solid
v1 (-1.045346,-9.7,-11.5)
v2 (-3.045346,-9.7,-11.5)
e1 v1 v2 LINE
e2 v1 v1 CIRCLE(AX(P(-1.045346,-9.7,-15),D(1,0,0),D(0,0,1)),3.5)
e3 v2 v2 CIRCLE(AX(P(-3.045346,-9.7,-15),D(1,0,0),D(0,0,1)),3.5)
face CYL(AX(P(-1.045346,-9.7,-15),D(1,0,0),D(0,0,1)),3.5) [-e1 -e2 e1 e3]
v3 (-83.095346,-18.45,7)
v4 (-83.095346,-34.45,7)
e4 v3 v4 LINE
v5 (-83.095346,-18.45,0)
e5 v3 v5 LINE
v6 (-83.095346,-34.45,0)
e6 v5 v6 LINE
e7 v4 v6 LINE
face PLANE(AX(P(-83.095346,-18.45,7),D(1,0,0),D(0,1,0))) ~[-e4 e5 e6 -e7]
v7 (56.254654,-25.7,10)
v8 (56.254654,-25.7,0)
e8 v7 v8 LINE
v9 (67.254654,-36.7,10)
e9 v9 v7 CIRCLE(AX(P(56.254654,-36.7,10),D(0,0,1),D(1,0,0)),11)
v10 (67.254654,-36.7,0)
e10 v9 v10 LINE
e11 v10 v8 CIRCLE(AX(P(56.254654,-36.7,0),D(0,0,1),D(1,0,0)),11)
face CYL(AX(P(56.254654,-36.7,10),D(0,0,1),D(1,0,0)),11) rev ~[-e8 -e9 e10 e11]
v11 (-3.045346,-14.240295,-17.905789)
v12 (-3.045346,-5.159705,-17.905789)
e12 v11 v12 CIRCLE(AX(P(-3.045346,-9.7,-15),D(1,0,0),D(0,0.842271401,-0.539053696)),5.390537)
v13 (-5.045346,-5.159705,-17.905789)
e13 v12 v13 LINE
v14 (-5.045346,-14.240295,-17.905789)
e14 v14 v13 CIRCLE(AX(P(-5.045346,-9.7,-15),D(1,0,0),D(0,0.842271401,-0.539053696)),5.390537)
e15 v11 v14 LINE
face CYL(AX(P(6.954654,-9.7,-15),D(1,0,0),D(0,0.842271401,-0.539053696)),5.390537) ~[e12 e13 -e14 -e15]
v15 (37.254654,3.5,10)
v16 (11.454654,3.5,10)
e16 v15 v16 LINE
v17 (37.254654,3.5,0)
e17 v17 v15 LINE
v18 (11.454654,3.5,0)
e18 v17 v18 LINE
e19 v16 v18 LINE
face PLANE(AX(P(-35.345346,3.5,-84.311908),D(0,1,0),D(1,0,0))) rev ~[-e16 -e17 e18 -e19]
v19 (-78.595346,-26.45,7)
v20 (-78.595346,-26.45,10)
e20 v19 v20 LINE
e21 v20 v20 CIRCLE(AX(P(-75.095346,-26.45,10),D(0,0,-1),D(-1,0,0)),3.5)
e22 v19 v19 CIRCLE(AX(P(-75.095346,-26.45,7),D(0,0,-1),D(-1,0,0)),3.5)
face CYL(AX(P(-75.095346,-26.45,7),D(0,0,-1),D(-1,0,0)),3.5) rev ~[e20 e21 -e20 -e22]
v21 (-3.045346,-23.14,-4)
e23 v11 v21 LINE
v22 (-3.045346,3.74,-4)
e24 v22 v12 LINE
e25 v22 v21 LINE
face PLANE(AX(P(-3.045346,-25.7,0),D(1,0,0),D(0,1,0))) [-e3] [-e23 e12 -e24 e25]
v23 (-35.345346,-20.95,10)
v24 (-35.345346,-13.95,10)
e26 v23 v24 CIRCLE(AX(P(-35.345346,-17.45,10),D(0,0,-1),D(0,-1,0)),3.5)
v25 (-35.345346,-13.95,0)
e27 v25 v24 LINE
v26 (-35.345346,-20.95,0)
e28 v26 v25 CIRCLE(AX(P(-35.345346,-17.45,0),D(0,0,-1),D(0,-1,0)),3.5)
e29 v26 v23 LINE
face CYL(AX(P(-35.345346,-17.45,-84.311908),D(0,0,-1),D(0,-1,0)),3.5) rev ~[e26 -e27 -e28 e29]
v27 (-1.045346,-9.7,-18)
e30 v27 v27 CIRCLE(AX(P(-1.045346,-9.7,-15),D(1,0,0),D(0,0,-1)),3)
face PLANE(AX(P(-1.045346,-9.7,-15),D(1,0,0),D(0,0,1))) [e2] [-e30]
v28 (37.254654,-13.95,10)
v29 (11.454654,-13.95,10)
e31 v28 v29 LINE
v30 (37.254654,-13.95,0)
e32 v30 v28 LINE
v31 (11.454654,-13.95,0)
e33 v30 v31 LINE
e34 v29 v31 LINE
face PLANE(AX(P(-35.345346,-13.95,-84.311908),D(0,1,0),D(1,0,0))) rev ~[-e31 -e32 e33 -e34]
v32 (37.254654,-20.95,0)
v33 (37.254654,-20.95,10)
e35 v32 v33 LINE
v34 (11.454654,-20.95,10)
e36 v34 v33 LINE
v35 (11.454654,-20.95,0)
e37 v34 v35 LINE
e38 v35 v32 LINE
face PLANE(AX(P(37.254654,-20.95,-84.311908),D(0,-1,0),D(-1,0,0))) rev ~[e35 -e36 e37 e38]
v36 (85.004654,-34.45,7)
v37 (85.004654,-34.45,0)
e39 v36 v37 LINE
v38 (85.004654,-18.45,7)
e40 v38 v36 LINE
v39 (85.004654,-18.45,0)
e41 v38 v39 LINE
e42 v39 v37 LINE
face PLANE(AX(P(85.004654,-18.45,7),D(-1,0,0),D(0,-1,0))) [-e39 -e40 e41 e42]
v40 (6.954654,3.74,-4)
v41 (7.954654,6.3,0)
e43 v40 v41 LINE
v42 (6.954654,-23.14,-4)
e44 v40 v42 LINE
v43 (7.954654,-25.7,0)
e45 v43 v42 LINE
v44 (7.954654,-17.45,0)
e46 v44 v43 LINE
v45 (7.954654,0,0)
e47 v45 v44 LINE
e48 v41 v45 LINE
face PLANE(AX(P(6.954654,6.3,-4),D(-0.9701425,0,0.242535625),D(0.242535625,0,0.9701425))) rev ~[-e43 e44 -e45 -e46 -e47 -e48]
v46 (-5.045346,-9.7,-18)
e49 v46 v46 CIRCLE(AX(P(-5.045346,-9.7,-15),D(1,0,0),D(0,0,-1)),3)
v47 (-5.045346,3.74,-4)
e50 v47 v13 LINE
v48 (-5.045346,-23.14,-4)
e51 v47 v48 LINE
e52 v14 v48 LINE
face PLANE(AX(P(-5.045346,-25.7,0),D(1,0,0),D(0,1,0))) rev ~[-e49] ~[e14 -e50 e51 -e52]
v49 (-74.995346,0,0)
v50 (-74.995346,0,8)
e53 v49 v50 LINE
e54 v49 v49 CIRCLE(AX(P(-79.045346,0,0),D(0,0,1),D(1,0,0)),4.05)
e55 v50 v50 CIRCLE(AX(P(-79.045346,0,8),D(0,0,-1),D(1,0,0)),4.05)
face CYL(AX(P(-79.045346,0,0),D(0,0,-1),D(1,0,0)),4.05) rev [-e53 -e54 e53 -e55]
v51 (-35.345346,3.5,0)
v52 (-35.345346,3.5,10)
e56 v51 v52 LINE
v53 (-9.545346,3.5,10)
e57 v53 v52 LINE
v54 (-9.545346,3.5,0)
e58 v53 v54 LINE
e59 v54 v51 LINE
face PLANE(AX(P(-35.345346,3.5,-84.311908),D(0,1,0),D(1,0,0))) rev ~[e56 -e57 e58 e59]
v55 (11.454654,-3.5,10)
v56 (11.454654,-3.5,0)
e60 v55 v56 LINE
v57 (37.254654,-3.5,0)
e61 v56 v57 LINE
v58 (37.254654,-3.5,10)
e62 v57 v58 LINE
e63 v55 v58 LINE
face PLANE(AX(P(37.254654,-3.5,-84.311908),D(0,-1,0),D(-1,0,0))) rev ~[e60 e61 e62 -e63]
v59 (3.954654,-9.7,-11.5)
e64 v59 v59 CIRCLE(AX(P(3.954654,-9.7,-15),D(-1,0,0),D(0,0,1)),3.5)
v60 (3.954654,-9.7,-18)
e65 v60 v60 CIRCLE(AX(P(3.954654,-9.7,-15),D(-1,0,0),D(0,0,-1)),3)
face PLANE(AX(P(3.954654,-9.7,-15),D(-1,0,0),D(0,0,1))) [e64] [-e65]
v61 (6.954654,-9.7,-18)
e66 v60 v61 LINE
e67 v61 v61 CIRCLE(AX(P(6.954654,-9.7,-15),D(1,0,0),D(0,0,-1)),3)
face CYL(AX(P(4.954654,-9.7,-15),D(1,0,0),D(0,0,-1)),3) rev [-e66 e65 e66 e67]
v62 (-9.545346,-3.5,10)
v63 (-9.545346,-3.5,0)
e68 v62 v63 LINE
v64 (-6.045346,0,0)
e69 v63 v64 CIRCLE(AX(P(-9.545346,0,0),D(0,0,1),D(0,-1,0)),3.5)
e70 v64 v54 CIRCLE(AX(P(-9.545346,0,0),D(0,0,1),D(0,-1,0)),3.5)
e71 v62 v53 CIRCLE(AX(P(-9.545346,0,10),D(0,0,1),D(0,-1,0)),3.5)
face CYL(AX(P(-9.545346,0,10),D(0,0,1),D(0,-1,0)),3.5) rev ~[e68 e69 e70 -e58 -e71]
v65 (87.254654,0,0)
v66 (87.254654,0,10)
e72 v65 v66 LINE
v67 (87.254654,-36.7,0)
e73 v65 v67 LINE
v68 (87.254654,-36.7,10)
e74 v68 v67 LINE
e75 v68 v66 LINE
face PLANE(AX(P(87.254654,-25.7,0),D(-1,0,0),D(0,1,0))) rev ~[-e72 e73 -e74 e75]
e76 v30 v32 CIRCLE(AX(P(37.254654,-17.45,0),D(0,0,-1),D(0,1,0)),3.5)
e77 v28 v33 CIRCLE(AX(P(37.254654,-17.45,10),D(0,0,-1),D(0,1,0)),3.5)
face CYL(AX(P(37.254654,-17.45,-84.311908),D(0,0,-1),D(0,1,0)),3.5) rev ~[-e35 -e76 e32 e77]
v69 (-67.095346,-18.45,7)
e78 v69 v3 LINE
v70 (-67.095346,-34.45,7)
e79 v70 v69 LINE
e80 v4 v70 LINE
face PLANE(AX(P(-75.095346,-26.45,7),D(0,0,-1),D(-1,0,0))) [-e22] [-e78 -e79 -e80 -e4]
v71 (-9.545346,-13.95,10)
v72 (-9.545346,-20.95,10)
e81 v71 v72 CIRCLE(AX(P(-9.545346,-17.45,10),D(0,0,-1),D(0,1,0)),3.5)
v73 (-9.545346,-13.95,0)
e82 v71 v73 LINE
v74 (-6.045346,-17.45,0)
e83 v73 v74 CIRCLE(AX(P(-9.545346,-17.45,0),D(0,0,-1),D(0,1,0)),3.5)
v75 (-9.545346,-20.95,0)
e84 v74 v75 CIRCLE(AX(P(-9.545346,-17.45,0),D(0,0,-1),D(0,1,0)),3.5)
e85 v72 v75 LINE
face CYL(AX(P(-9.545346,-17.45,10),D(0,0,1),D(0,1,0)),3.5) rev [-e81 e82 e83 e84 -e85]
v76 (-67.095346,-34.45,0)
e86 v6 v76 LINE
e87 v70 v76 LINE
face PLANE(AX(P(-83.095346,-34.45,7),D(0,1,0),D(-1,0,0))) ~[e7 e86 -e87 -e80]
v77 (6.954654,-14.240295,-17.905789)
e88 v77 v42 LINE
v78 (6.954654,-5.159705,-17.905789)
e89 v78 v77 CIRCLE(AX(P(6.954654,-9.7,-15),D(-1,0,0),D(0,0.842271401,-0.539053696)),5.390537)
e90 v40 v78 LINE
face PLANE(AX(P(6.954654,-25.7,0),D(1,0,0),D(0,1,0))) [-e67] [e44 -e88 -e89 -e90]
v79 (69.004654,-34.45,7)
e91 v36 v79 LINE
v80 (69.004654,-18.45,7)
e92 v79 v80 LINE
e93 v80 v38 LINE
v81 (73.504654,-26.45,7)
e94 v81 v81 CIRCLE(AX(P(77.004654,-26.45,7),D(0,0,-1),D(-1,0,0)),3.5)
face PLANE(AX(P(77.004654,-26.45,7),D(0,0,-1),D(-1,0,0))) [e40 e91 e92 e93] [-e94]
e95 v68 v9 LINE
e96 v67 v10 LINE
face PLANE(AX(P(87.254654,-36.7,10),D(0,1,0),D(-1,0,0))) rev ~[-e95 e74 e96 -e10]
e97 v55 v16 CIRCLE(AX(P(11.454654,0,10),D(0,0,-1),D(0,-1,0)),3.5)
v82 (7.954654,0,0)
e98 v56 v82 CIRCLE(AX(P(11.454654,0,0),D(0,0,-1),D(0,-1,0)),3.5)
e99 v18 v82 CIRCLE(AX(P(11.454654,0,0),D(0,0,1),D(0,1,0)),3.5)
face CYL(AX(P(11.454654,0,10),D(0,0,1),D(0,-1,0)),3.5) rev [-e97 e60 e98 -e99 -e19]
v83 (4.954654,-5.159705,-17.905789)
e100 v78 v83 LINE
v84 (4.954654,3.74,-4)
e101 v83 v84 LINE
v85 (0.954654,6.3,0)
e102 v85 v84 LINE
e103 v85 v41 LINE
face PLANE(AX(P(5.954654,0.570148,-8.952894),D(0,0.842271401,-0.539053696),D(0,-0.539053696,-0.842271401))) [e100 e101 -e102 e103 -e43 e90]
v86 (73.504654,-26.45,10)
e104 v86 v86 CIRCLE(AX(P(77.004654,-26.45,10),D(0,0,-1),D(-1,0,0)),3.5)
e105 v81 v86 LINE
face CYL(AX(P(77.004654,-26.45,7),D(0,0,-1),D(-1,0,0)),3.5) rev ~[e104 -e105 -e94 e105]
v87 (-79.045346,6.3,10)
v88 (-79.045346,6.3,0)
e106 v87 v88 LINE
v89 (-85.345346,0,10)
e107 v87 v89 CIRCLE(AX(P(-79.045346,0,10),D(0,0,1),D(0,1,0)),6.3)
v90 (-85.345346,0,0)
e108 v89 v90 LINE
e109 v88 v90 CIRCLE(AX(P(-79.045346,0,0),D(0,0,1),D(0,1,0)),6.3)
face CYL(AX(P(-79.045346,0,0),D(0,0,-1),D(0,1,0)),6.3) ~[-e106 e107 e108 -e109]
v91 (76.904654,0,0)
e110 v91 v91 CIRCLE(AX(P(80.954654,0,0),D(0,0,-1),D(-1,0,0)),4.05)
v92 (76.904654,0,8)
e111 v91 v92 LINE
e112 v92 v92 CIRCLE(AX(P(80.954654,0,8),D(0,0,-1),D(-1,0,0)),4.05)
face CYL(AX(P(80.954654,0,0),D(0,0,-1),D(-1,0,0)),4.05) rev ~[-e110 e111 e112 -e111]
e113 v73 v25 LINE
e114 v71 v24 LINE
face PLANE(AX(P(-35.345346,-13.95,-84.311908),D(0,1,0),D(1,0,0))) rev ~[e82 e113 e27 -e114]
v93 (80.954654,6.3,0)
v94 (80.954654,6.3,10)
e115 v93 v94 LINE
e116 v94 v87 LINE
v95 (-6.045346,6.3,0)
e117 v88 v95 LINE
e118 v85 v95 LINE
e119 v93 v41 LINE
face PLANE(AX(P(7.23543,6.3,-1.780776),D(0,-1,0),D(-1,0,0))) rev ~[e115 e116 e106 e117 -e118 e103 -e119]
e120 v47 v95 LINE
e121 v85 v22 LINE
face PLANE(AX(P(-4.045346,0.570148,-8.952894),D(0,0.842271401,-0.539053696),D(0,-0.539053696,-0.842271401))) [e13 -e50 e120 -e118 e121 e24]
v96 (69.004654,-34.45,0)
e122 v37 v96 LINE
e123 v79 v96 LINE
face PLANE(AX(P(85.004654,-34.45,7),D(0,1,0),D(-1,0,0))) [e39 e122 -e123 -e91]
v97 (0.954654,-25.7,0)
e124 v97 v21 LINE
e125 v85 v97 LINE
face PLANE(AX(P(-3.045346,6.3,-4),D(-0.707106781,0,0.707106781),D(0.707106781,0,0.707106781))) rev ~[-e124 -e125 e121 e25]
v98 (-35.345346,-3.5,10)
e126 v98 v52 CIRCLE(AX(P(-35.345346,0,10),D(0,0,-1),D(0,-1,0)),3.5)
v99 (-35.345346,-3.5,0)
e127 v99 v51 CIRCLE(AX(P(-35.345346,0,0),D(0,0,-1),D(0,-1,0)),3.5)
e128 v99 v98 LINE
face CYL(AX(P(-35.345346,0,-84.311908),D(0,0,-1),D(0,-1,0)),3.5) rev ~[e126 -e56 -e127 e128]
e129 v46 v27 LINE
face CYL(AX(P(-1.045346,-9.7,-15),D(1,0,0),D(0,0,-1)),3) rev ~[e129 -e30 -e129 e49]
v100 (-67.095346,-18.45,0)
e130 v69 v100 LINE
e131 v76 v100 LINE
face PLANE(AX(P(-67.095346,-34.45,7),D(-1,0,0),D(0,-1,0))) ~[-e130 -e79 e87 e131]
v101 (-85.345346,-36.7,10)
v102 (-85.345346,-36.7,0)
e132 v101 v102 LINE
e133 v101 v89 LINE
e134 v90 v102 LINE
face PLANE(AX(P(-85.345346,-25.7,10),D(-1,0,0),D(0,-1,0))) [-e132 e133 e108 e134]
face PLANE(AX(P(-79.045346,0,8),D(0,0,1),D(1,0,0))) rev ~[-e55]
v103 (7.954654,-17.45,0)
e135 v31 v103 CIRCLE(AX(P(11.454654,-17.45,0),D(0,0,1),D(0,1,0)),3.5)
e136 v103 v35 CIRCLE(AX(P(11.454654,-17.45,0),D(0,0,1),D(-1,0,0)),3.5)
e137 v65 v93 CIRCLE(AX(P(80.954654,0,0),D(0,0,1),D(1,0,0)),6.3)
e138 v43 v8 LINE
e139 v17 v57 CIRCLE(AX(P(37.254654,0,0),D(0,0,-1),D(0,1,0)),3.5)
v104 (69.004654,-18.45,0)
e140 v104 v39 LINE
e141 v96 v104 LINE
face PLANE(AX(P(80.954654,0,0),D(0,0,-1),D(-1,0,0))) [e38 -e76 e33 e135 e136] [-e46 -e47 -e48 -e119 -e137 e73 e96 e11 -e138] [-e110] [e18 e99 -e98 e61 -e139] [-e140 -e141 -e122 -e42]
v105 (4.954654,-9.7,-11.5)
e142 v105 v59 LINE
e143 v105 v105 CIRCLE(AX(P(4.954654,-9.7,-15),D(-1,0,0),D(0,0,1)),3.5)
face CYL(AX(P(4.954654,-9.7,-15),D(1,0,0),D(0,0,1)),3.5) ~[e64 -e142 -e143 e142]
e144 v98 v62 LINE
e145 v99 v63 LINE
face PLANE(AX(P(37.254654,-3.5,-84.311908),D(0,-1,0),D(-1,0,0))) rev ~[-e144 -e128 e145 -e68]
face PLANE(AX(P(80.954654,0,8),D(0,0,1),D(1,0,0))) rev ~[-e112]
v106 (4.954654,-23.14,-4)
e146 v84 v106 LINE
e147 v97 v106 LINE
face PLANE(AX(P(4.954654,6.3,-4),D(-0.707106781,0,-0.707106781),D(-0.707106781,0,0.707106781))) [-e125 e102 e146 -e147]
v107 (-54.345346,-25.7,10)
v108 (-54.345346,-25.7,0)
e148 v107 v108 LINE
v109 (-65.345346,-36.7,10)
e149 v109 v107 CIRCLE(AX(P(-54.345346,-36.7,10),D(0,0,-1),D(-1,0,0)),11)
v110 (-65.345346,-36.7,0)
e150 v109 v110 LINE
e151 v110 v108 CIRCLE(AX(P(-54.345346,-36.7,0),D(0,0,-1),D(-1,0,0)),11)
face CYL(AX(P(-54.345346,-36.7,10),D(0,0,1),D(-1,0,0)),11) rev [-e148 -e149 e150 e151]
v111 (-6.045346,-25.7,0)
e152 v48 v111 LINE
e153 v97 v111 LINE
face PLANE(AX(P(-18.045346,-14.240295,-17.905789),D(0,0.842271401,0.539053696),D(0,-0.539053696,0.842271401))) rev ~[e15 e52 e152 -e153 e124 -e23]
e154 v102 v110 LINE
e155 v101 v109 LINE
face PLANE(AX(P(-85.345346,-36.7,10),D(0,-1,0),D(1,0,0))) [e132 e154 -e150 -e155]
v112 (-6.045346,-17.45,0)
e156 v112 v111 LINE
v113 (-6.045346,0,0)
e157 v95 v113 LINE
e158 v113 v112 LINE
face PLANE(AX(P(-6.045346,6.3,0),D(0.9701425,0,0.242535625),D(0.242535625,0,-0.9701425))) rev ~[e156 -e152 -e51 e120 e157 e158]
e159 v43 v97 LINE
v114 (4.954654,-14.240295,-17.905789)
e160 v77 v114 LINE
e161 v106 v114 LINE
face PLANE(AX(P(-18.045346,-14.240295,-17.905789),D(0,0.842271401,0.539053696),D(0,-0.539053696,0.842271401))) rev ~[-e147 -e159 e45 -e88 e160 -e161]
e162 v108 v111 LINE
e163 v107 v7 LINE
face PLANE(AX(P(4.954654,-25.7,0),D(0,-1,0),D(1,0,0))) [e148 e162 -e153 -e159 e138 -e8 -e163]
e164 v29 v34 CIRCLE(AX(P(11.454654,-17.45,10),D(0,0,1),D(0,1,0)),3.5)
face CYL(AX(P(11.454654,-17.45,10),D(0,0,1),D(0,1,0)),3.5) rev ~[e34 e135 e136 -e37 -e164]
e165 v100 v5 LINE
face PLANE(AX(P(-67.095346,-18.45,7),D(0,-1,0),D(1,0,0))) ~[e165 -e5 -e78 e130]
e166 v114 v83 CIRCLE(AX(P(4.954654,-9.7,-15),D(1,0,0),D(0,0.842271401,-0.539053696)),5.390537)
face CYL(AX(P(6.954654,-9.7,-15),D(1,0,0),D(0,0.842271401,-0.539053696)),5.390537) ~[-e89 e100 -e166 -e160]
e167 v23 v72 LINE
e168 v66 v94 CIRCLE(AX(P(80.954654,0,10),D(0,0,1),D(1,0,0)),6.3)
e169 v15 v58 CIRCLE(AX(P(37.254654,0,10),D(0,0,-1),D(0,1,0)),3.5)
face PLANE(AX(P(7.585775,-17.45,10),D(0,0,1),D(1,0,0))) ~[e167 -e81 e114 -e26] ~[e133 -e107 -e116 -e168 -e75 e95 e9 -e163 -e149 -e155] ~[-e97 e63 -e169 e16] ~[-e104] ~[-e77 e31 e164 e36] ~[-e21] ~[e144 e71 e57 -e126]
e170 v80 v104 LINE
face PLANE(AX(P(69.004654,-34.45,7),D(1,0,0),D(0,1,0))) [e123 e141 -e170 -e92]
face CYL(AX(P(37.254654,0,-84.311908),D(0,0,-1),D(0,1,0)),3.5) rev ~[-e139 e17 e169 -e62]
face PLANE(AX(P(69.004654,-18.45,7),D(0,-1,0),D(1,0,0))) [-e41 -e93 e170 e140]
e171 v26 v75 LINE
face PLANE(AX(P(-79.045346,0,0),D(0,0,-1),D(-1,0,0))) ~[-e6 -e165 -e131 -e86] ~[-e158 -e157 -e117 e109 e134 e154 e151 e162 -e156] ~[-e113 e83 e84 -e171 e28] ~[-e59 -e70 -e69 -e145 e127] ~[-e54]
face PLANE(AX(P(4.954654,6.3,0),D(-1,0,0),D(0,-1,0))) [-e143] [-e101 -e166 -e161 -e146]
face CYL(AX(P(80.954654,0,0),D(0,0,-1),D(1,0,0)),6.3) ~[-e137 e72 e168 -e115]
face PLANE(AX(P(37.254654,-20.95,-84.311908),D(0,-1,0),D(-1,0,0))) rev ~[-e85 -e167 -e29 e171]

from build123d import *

# Parameters (mm, degrees)
SKETCH1_R               = 4.3000000000000025
BOSS_EXTRUDE1_DEPTH     = 8
CUT_EXTRUDE1_DEPTH      = 8
SKETCH1_2_R             = 4.3000000000000025
BOSS_EXTRUDE2_DEPTH     = 10
CUT_EXTRUDE2_DEPTH      = 92.31190849955428
CUT_EXTRUDE2_DEPTH_BACK = 92.31190849955428
SKETCH3_W               = 12.499999999999986
SKETCH3_H               = 12.500000000000002
SKETCH3_W_2             = 12.5
SKETCH3_H_2             = 12.5
BOSS_EXTRUDE3_DEPTH     = 2
BOSS_EXTRUDE5_START     = -2
SKETCH4_R               = 4.3000000000000025
BOSS_EXTRUDE5_DEPTH     = 2
BOSS_EXTRUDE6_DEPTH     = 10.000000000000002
BOSS_EXTRUDE7_DEPTH     = 10.000000000000002
BOSS_EXTRUDE8_DEPTH     = 10
SKETCH8_W               = 18.12209127979392
SKETCH8_H               = 22.505010210713824
SKETCH8_W_2             = 16.915072938743947
SKETCH8_H_2             = 18.768490123640905
BOSS_EXTRUDE9_DEPTH     = 10
SKETCH12_W              = 16.5
SKETCH12_H              = 16.500000000000004
CUT_EXTRUDE6_DEPTH      = 6.999999999999999
SKETCH13_R              = 3.5000000000000075
CUT_EXTRUDE7_DEPTH      = 6.999999999999999
CUT_EXTRUDE11_DEPTH     = 5
BOSS_EXTRUDE10_DEPTH    = 8
BOSS_EXTRUDE11_START    = -10.000000000000002
BOSS_EXTRUDE11_DEPTH    = 10.000000000000002
BOSS_EXTRUDE12_START    = -10.000000000000002
BOSS_EXTRUDE12_DEPTH    = 10.000000000000002
BOSS_EXTRUDE13_DEPTH    = 20
CUT_EXTRUDE12_DEPTH     = 20
SKETCH20_R              = 3.5
CUT_EXTRUDE13_DEPTH     = 20
SKETCH21_W              = 12.588800468492423
SKETCH21_H              = 27.872981801920105
CUT_EXTRUDE15_DEPTH     = 28.00000000000001
SKETCH23_W              = 2.0000000000000004
SKETCH23_H              = 31.999999999999986
BOSS_EXTRUDE14_DEPTH    = 25
SKETCH24_R              = 2.9999999999999996
CUT_EXTRUDE16_DEPTH     = 25
CUT_EXTRUDE18_DEPTH     = 25
BOSS_EXTRUDE15_REACH    = 105.846
CUT_EXTRUDE19_REACH     = 101.389
CUT_EXTRUDE20_REACH     = 101.389
SKETCH31_W              = 16.5
SKETCH31_H              = 16.500000000000004
BOSS_EXTRUDE16_DEPTH    = 7
SKETCH32_R              = 4.3000000000000025
SKETCH32_R_2            = 4.0500000000000025
BOSS_EXTRUDE17_DEPTH    = 10
BOSS_EXTRUDE18_START    = 2
SKETCH33_R              = 3.5000000000000018
SKETCH33_R_2            = 2.9999999999999996
BOSS_EXTRUDE18_DEPTH    = 2
SKETCH34_R              = 3.4999999999999996
SKETCH34_R_2            = 3.0000000000000013
BOSS_EXTRUDE19_DEPTH    = 1


with BuildPart() as part:
    # Sketch1 → Boss-Extrude1 (new body)
    with BuildSketch(Plane.XY):
        with BuildLine():
            Line((-85.34534606205251, -25.7), (87.25465393794748, -25.7))
            Line((87.25465393794748, -25.7), (87.25465393794748, 0))
            ThreePointArc((87.25465393794748, 0), (85.40942665942275, 4.454772721475249), (80.9546539379475, 6.3))
            Line((80.9546539379475, 6.3), (-79.04534606205252, 6.3))
            ThreePointArc((-79.04534606205252, 6.3), (-83.50011878352777, 4.4547727214752495), (-85.34534606205251, -7.7e-16))
            Line((-85.34534606205251, -7.7e-16), (-85.34534606205251, -25.7))
        make_face()
        with Locations((-79.04534606205252, 0)):
            Circle(SKETCH1_R, mode=Mode.SUBTRACT)
        with Locations((80.9546539379475, 0)):
            Circle(SKETCH1_R, mode=Mode.SUBTRACT)
        Polygon((-83.3453460620525, -11.200000000000001), (-70.8453460620525, -11.199999999999998), (-70.84534606205251, -23.7), (-83.34534606205251, -23.7), align=None, mode=Mode.SUBTRACT)
        Polygon((85.2546539379475, -11.199999999999966), (72.7546539379475, -11.199999999999967), (72.7546539379475, -23.69999999999997), (85.2546539379475, -23.699999999999967), align=None, mode=Mode.SUBTRACT)
    extrude(amount=BOSS_EXTRUDE1_DEPTH)

    # Sketch2 → Cut-Extrude1 (cut)
    with BuildSketch(Plane.XY.offset(8)):
        with BuildLine():
            Line((-35.34534606205251, 3.4999999999999996), (37.25465393794748, 3.4999999999999996))
            ThreePointArc((37.25465393794748, 3.4999999999999996), (40.75465393794748, 0), (37.25465393794748, -3.4999999999999996))
            Line((37.25465393794748, -3.4999999999999996), (-35.34534606205251, -3.4999999999999996))
            ThreePointArc((-35.34534606205251, -3.4999999999999996), (-38.84534606205251, 4.3e-16), (-35.34534606205251, 3.4999999999999996))
        make_face()
        with BuildLine():
            Line((-35.34534606205251, -13.949999999999969), (37.25465393794749, -13.949999999999969))
            ThreePointArc((37.25465393794749, -13.949999999999969), (40.75465393794748, -17.449999999999967), (37.25465393794749, -20.949999999999967))
            Line((37.25465393794749, -20.949999999999967), (34.64320743131566, -20.949999999999967))
            Line((34.64320743131566, -20.949999999999967), (-35.34534606205251, -20.949999999999967))
            ThreePointArc((-35.34534606205251, -20.949999999999967), (-38.845346062052506, -17.449999999999967), (-35.34534606205251, -13.949999999999969))
        make_face()
    extrude(amount=-CUT_EXTRUDE1_DEPTH, mode=Mode.SUBTRACT)

    # Sketch1<2> → Boss-Extrude2 (add)
    with BuildSketch(Plane.XY):
        with BuildLine():
            Line((-85.34534606205251, -25.7), (87.25465393794748, -25.7))
            Line((87.25465393794748, -25.7), (87.25465393794748, 0))
            ThreePointArc((87.25465393794748, 0), (85.40942665942275, 4.454772721475249), (80.9546539379475, 6.3))
            Line((80.9546539379475, 6.3), (-79.04534606205252, 6.3))
            ThreePointArc((-79.04534606205252, 6.3), (-83.50011878352777, 4.4547727214752495), (-85.34534606205251, -7.7e-16))
            Line((-85.34534606205251, -7.7e-16), (-85.34534606205251, -25.7))
        make_face()
        with Locations((-79.04534606205252, 0)):
            Circle(SKETCH1_2_R, mode=Mode.SUBTRACT)
        with Locations((80.9546539379475, 0)):
            Circle(SKETCH1_2_R, mode=Mode.SUBTRACT)
        Polygon((-83.3453460620525, -11.200000000000001), (-70.8453460620525, -11.199999999999998), (-70.84534606205251, -23.7), (-83.34534606205251, -23.7), align=None, mode=Mode.SUBTRACT)
        Polygon((85.2546539379475, -11.199999999999966), (72.7546539379475, -11.199999999999967), (72.7546539379475, -23.69999999999997), (85.2546539379475, -23.699999999999967), align=None, mode=Mode.SUBTRACT)
    extrude(amount=BOSS_EXTRUDE2_DEPTH)

    # Sketch2<2> → Cut-Extrude2 (cut, two sides: drawn at the far end of the back side and taken through both)
    with BuildSketch(Plane.XY.offset(8).offset(-CUT_EXTRUDE2_DEPTH_BACK)):
        with BuildLine():
            Line((-35.34534606205251, 3.4999999999999996), (37.25465393794748, 3.4999999999999996))
            ThreePointArc((37.25465393794748, 3.4999999999999996), (40.75465393794748, 0), (37.25465393794748, -3.4999999999999996))
            Line((37.25465393794748, -3.4999999999999996), (-35.34534606205251, -3.4999999999999996))
            ThreePointArc((-35.34534606205251, -3.4999999999999996), (-38.84534606205251, 4.3e-16), (-35.34534606205251, 3.4999999999999996))
        make_face()
        with BuildLine():
            Line((-35.34534606205251, -13.949999999999969), (37.25465393794749, -13.949999999999969))
            ThreePointArc((37.25465393794749, -13.949999999999969), (40.75465393794748, -17.449999999999967), (37.25465393794749, -20.949999999999967))
            Line((37.25465393794749, -20.949999999999967), (34.64320743131566, -20.949999999999967))
            Line((34.64320743131566, -20.949999999999967), (-35.34534606205251, -20.949999999999967))
            ThreePointArc((-35.34534606205251, -20.949999999999967), (-38.845346062052506, -17.449999999999967), (-35.34534606205251, -13.949999999999969))
        make_face()
    extrude(amount=CUT_EXTRUDE2_DEPTH + CUT_EXTRUDE2_DEPTH_BACK, mode=Mode.SUBTRACT)

    # Sketch3 → Boss-Extrude3 (add)
    with BuildSketch(Plane.XY.offset(10)):
        with Locations((-77.0953460620525, -17.450000000000003)):
            Rectangle(SKETCH3_W, SKETCH3_H)
        with Locations((79.0046539379475, -17.449999999999967)):
            Rectangle(SKETCH3_W_2, SKETCH3_H_2)
    extrude(amount=-BOSS_EXTRUDE3_DEPTH)

    # Sketch4 → Boss-Extrude5 (add)
    with BuildSketch(Plane.XY.offset(10).offset(BOSS_EXTRUDE5_START)):
        with Locations((-79.04534606205252, 0)):
            Circle(SKETCH4_R)
        with Locations((80.9546539379475, 0)):
            Circle(SKETCH4_R)
    extrude(amount=BOSS_EXTRUDE5_DEPTH)

    # Sketch5 → Boss-Extrude6 (add)
    with BuildSketch(Plane.XY.offset(10)):
        with BuildLine():
            Line((-4.5453460620525155, 3.4999999999999996), (6.454653937947482, 3.4999999999999996))
            ThreePointArc((6.454653937947482, 3.4999999999999996), (2.954653937947483, 4.3e-16), (6.454653937947483, -3.4999999999999996))
            Line((6.454653937947483, -3.4999999999999996), (-4.545346062052516, -3.4999999999999996))
            ThreePointArc((-4.545346062052516, -3.4999999999999996), (-1.0453460620525168, -7.8e-16), (-4.5453460620525155, 3.4999999999999996))
        make_face()
    extrude(amount=-BOSS_EXTRUDE6_DEPTH)

    # Sketch6 → Boss-Extrude7 (add)
    with BuildSketch(Plane.XY.offset(10)):
        with BuildLine():
            Line((-4.545346062052515, -13.949999999999969), (6.454653937947488, -13.949999999999969))
            ThreePointArc((6.454653937947488, -13.949999999999969), (2.9546539379474925, -17.449999999999964), (6.454653937947487, -20.949999999999967))
            Line((6.454653937947487, -20.949999999999967), (-4.545346062052514, -20.949999999999967))
            ThreePointArc((-4.545346062052514, -20.949999999999967), (-1.045346062052519, -17.449999999999964), (-4.545346062052515, -13.949999999999969))
        make_face()
    extrude(amount=-BOSS_EXTRUDE7_DEPTH)

    # Sketch7 → Boss-Extrude8 (add)
    with BuildSketch(Plane.XY.offset(10)):
        with BuildLine():
            Line((-85.34534606205251, -25.7), (-85.34534606205251, -36.7))
            Line((-85.34534606205251, -36.7), (-65.34534606205251, -36.7))
            ThreePointArc((-65.34534606205251, -36.7), (-62.123520655104535, -28.92182540694798), (-54.34534606205251, -25.7))
            Line((-54.34534606205251, -25.7), (-85.34534606205251, -25.7))
        make_face()
        with BuildLine():
            Line((87.25465393794748, -25.7), (87.25465393794748, -36.7))
            Line((87.25465393794748, -36.7), (67.25465393794748, -36.7))
            ThreePointArc((67.25465393794748, -36.7), (64.03282853099951, -28.92182540694797), (56.25465393794748, -25.7))
            Line((56.25465393794748, -25.7), (87.25465393794748, -25.7))
        make_face()
    extrude(amount=-BOSS_EXTRUDE8_DEPTH)

    # Sketch8 → Boss-Extrude9 (add)
    with BuildSketch(Plane(origin=(0, 0, 0), x_dir=(-1, 0, 0), z_dir=(0, 0, -1))):
        with Locations((-77.42693865318739, -19.427407937710136)):
            Rectangle(SKETCH8_W, SKETCH8_H)
        with Locations((75.82994568606472, -18.53584079527426)):
            Rectangle(SKETCH8_W_2, SKETCH8_H_2)
    extrude(amount=-BOSS_EXTRUDE9_DEPTH)

    # Sketch12 → Cut-Extrude6 (cut)
    with BuildSketch(Plane(origin=(0, 0, 0), x_dir=(-1, 0, 0), z_dir=(0, 0, -1))):
        with Locations((-77.00465393794748, -26.450000000000003)):
            Rectangle(SKETCH12_W, SKETCH12_H)
        with Locations((75.09534606205251, -26.450000000000003)):
            Rectangle(SKETCH12_W, SKETCH12_H)
    extrude(amount=-CUT_EXTRUDE6_DEPTH, mode=Mode.SUBTRACT)

    # Sketch13 → Cut-Extrude7 (cut)
    with BuildSketch(Plane(origin=(0, 0, 6.999999999999999), x_dir=(-1, 0, 0), z_dir=(0, 0, -1))):
        with Locations((75.09534606205253, -26.450000000000003)):
            Circle(SKETCH13_R)
        with Locations((-77.0046539379475, -26.450000000000003)):
            Circle(SKETCH13_R)
    extrude(amount=-CUT_EXTRUDE7_DEPTH, mode=Mode.SUBTRACT)

    # Sketch14 → Cut-Extrude11 (cut)
    with BuildSketch(Plane(origin=(0, 0, 0), x_dir=(-1, 0, 0), z_dir=(0, 0, -1))):
        with BuildLine():
            Line((-75.9546539379475, -5.499999999999989), (-5.954653937947485, -5.499999999999989))
            ThreePointArc((-5.954653937947485, -5.499999999999989), (-2.729653937947491, -8.724999999999984), (-5.954653937947485, -11.949999999999978))
            Line((-5.954653937947485, -11.949999999999978), (-75.9546539379475, -11.949999999999989))
            ThreePointArc((-75.9546539379475, -11.949999999999989), (-79.1796539379475, -8.724999999999984), (-75.9546539379475, -5.499999999999989))
        make_face()
        with BuildLine():
            Line((4.0453460620525155, -5.499999999999981), (6.774875552501669, -5.499999999999981))
            Line((6.774875552501669, -5.499999999999981), (74.04534606205253, -5.499999999999982))
            ThreePointArc((74.04534606205253, -5.499999999999982), (77.27034606205254, -8.724999999999985), (74.04534606205253, -11.949999999999969))
            Line((74.04534606205253, -11.949999999999969), (4.045346062052515, -11.949999999999978))
            ThreePointArc((4.045346062052515, -11.949999999999978), (0.820346062052522, -8.724999999999985), (4.0453460620525155, -5.499999999999981))
        make_face()
    extrude(amount=-CUT_EXTRUDE11_DEPTH, mode=Mode.SUBTRACT)

    # Sketch15 → Boss-Extrude10 (add)
    with BuildSketch(Plane(origin=(0, 0, 0), x_dir=(-1, 0, 0), z_dir=(0, 0, -1))):
        with BuildLine():
            Line((-75.95465393794751, -5.499999999999987), (-5.954653937947488, -5.499999999999989))
            ThreePointArc((-5.954653937947488, -5.499999999999989), (-2.729653937947492, -8.724999999999982), (-5.954653937947485, -11.949999999999978))
            Line((-5.954653937947485, -11.949999999999978), (-75.95465393794747, -11.949999999999982))
            ThreePointArc((-75.95465393794747, -11.949999999999982), (-79.17965393794748, -8.725000000000005), (-75.95465393794751, -5.499999999999987))
        make_face()
        with BuildLine():
            Line((4.045346062052503, -5.499999999999988), (74.04534606205252, -5.499999999999988))
            ThreePointArc((74.04534606205252, -5.499999999999988), (77.27034606205251, -8.724999999999977), (74.04534606205253, -11.94999999999998))
            Line((74.04534606205253, -11.94999999999998), (4.045346062052521, -11.949999999999978))
            ThreePointArc((4.045346062052521, -11.949999999999978), (0.8203460620525185, -8.724999999999993), (4.045346062052503, -5.499999999999988))
        make_face()
    extrude(amount=-BOSS_EXTRUDE10_DEPTH)

    # Sketch16 → Boss-Extrude11 (add)
    with BuildSketch(Plane(origin=(0, 0, 0), x_dir=(-1, 0, 0), z_dir=(0, 0, -1)).offset(BOSS_EXTRUDE11_START)):
        with BuildLine():
            Line((4.545346062052515, -3.4999999999999996), (9.545346062052516, -3.499999999999999))
            ThreePointArc((9.545346062052516, -3.499999999999999), (6.045346062052516, 1e-17), (9.545346062052516, 3.4999999999999996))
            Line((9.545346062052516, 3.4999999999999996), (4.545346062052515, 3.4999999999999996))
            ThreePointArc((4.545346062052515, 3.4999999999999996), (1.045346062052515, 4.3e-16), (4.545346062052515, -3.4999999999999996))
        make_face()
    boss_extrude11 = extrude(amount=BOSS_EXTRUDE11_DEPTH)

    # Mirror1: Boss-Extrude11 across plane
    add(boss_extrude11.mirror(Plane.ZY.offset(-0.9546539379474833)))

    # Sketch17 → Boss-Extrude12 (add)
    with BuildSketch(Plane(origin=(0, 0, 0), x_dir=(-1, 0, 0), z_dir=(0, 0, -1)).offset(BOSS_EXTRUDE12_START)):
        with BuildLine():
            Line((9.545346062052516, -20.949999999999967), (4.545346062052515, -20.949999999999967))
            ThreePointArc((4.545346062052515, -20.949999999999967), (1.0453460620525146, -17.449999999999967), (4.545346062052515, -13.949999999999969))
            Line((4.545346062052515, -13.949999999999969), (9.545346062052516, -13.949999999999969))
            ThreePointArc((9.545346062052516, -13.949999999999969), (6.045346062052518, -17.449999999999967), (9.545346062052516, -20.949999999999967))
        make_face()
    boss_extrude12 = extrude(amount=BOSS_EXTRUDE12_DEPTH)

    # Mirror2: Boss-Extrude12 across plane
    add(boss_extrude12.mirror(Plane.ZY.offset(-0.9546539379474833)))

    # Sketch18 → Boss-Extrude13 (add)
    with BuildSketch(Plane(origin=(0, 0, 0), x_dir=(-1, 0, 0), z_dir=(0, 0, -1))):
        Polygon((-5.954653937947488, 2.3000000000000207), (-3.9546539379474877, 2.3000000000000207), (-3.954653937947485, -17.699999999999978), (-5.9546539379474845, -17.699999999999978), align=None)
        Polygon((2.0453460620525137, 2.3000000000000207), (4.045346062052515, 2.3000000000000207), (4.045346062052516, -17.699999999999978), (2.0453460620525163, -17.699999999999978), align=None)
    extrude(amount=BOSS_EXTRUDE13_DEPTH)

    # Sketch19 → Cut-Extrude12 (cut)
    with BuildSketch(Plane.ZY.offset(4.045346062052515)):
        Polygon((0, 2.3000000000000203), (-20, -4.699999999999979), (-20, 2.3000000000000203), align=None)
        Polygon((0, -17.699999999999978), (-20, -17.699999999999978), (-20, -10.69999999999998), align=None)
    extrude(amount=-CUT_EXTRUDE12_DEPTH, mode=Mode.SUBTRACT)

    # Sketch20 → Cut-Extrude13 (cut)
    with BuildSketch(Plane.ZY.offset(4.045346062052515)):
        with Locations(Location((-15, -7.69999999999998, 0), (0, 0, 270))):
            Circle(SKETCH20_R)
    extrude(amount=-CUT_EXTRUDE13_DEPTH, mode=Mode.SUBTRACT)

    # Sketch21 → Cut-Extrude15 (cut)
    with BuildSketch(Plane(origin=(0, 0, 0), x_dir=(-1, 0, 0), z_dir=(0, 0, -1))):
        with Locations((-0.5300969409489649, -9.126679055583509)):
            Rectangle(SKETCH21_W, SKETCH21_H)
    extrude(amount=CUT_EXTRUDE15_DEPTH, mode=Mode.SUBTRACT)

    # Sketch23 → Boss-Extrude14 (add)
    with BuildSketch(Plane(origin=(0, 0, 0), x_dir=(-1, 0, 0), z_dir=(0, 0, -1))):
        with Locations((4.045346062052517, -9.699999999999989)):
            Rectangle(SKETCH23_W, SKETCH23_H)
        Polygon((-4.954653937947484, -25.69999999999998), (-6.954653937947484, -25.699999999999985), (-6.954653937947484, 6.300000000000005), (-4.954653937947484, 6.300000000000004), align=None)
    extrude(amount=BOSS_EXTRUDE14_DEPTH)

    # Sketch24 → Cut-Extrude16 (cut)
    with BuildSketch(Plane(origin=(6.954653937947484, 0, 0), x_dir=(0, 0, -1), z_dir=(1, 0, 0))):
        with Locations((15.000000000000002, -9.69999999999999)):
            Circle(SKETCH24_R)
    extrude(amount=-CUT_EXTRUDE16_DEPTH, mode=Mode.SUBTRACT)

    # Sketch25 → Cut-Extrude18 (cut)
    with BuildSketch(Plane(origin=(6.954653937947484, 0, 0), x_dir=(0, 0, -1), z_dir=(1, 0, 0))):
        with BuildLine():
            Line((17.905788876276958, -14.24029511918274), (0, -25.699999999999985))
            Line((0, -25.699999999999985), (25, -25.699999999999985))
            Line((25, -25.699999999999985), (25, -9.699999999999992))
            Line((25, -9.699999999999992), (25, 6.300000000000005))
            Line((25, 6.300000000000005), (0, 6.300000000000005))
            Line((0, 6.300000000000005), (17.905788876276958, -5.1597048808172445))
            ThreePointArc((17.905788876276958, -5.1597048808172445), (20.39053696423367, -9.699999999999992), (17.905788876276958, -14.24029511918274))
        make_face()
    extrude(amount=-CUT_EXTRUDE18_DEPTH, mode=Mode.SUBTRACT)

    # Boss-Extrude15: up to this plane
    boss_extrude15_end = Plane(origin=(-18.04534606205252, -14.24029511918274, -17.905788876276958), z_dir=(0, 0.8422714006615116, 0.5390536964233671))
    # Sketch28 → Boss-Extrude15 (add, up to the surface)
    with BuildSketch(Plane(origin=(6.954653937947484, 6.300000000000005, 0), x_dir=(-1, 0, 0), z_dir=(0, -1, 0)), mode=Mode.PRIVATE) as boss_extrude15_sk1:
        Polygon((6, 0), (2, 0), (2, 4), align=None)
    boss_extrude15_tool1 = split(extrude(boss_extrude15_sk1.sketch, amount=BOSS_EXTRUDE15_REACH, mode=Mode.PRIVATE), bisect_by=boss_extrude15_end, keep=Keep.BOTH, mode=Mode.PRIVATE)
    add(boss_extrude15_tool1.solids().sort_by_distance((3.621321, 6.3, -1.333333))[0])
    # Sketch28 → Boss-Extrude15 (add, up to the surface)
    with BuildSketch(Plane(origin=(6.954653937947484, 6.300000000000005, 0), x_dir=(-1, 0, 0), z_dir=(0, -1, 0)), mode=Mode.PRIVATE) as boss_extrude15_sk2:
        Polygon((10, 4), (6, 0), (10, 0), align=None)
    boss_extrude15_tool2 = split(extrude(boss_extrude15_sk2.sketch, amount=BOSS_EXTRUDE15_REACH, mode=Mode.PRIVATE), bisect_by=boss_extrude15_end, keep=Keep.BOTH, mode=Mode.PRIVATE)
    add(boss_extrude15_tool2.solids().sort_by_distance((-1.712013, 6.3, -1.333333))[0])
    # Sketch28 → Boss-Extrude15 (add, up to the surface)
    with BuildSketch(Plane(origin=(6.954653937947484, 6.300000000000005, 0), x_dir=(-1, 0, 0), z_dir=(0, -1, 0)), mode=Mode.PRIVATE) as boss_extrude15_sk3:
        Polygon((13.000000000000002, 0), (12, 4), (12, 0), align=None)
    boss_extrude15_tool3 = split(extrude(boss_extrude15_sk3.sketch, amount=BOSS_EXTRUDE15_REACH, mode=Mode.PRIVATE), bisect_by=boss_extrude15_end, keep=Keep.BOTH, mode=Mode.PRIVATE)
    add(boss_extrude15_tool3.solids().sort_by_distance((-5.378679, 6.3, -1.333333))[0])
    # Sketch28 → Boss-Extrude15 (add, up to the surface)
    with BuildSketch(Plane(origin=(6.954653937947484, 6.300000000000005, 0), x_dir=(-1, 0, 0), z_dir=(0, -1, 0)), mode=Mode.PRIVATE) as boss_extrude15_sk4:
        Polygon((0, 4), (-1, 0), (0, 0), align=None)
    boss_extrude15_tool4 = split(extrude(boss_extrude15_sk4.sketch, amount=BOSS_EXTRUDE15_REACH, mode=Mode.PRIVATE), bisect_by=boss_extrude15_end, keep=Keep.BOTH, mode=Mode.PRIVATE)
    add(boss_extrude15_tool4.solids().sort_by_distance((7.287987, 6.3, -1.333333))[0])

    # Cut-Extrude19: up to this face of the body (flat: up to its plane)
    cut_extrude19_end = Plane(part.part.faces().sort_by_distance((-4.045346062, 0.57014756, -8.952894438))[0])
    # Sketch29 → Cut-Extrude19 (cut, up to the picked face)
    with BuildSketch(Plane(origin=(0, 6.3, 0), x_dir=(1, 0, 0), z_dir=(0, 1, 0)), mode=Mode.PRIVATE) as cut_extrude19_sk1:
        Polygon((-5.045346062052517, 0), (-6.045346062052526, 1.73e-15), (-5.045346062052517, 3.999999999999999), align=None)
    cut_extrude19_tool1 = split(extrude(cut_extrude19_sk1.sketch, amount=-CUT_EXTRUDE19_REACH, mode=Mode.PRIVATE), bisect_by=cut_extrude19_end, keep=Keep.BOTH, mode=Mode.PRIVATE)
    # Sketch29 → Cut-Extrude19 (cut, up to the picked face)
    with BuildSketch(Plane(origin=(0, 6.3, 0), x_dir=(1, 0, 0), z_dir=(0, 1, 0)), mode=Mode.PRIVATE) as cut_extrude19_sk2:
        Polygon((-3.045346062052517, 0), (-3.045346062052517, 4), (0.9546539379474833, 0), align=None)
    cut_extrude19_tool2 = split(extrude(cut_extrude19_sk2.sketch, amount=-CUT_EXTRUDE19_REACH, mode=Mode.PRIVATE), bisect_by=cut_extrude19_end, keep=Keep.BOTH, mode=Mode.PRIVATE)
    add(cut_extrude19_tool1.solids().sort_by(Axis((-5.378679, 6.3, -1.333333), (0, -1, 0)))[0], mode=Mode.SUBTRACT)
    add(cut_extrude19_tool2.solids().sort_by(Axis((-1.712013, 6.3, -1.333333), (0, -1, 0)))[0], mode=Mode.SUBTRACT)

    # Cut-Extrude20: up to this face of the body (flat: up to its plane)
    cut_extrude20_end = Plane(part.part.faces().sort_by_distance((5.954653938, 0.57014756, -8.952894438))[0])
    # Sketch30 → Cut-Extrude20 (cut, up to the picked face)
    with BuildSketch(Plane(origin=(0, 6.3, 0), x_dir=(1, 0, 0), z_dir=(0, 1, 0)), mode=Mode.PRIVATE) as cut_extrude20_sk1:
        Polygon((0.9546539379474833, 0), (4.954653937947484, 0), (4.954653937947484, 4), align=None)
    cut_extrude20_tool1 = split(extrude(cut_extrude20_sk1.sketch, amount=-CUT_EXTRUDE20_REACH, mode=Mode.PRIVATE), bisect_by=cut_extrude20_end, keep=Keep.BOTH, mode=Mode.PRIVATE)
    # Sketch30 → Cut-Extrude20 (cut, up to the picked face)
    with BuildSketch(Plane(origin=(0, 6.3, 0), x_dir=(1, 0, 0), z_dir=(0, 1, 0)), mode=Mode.PRIVATE) as cut_extrude20_sk2:
        Polygon((6.954653937947484, 0), (7.954653937947483, 0), (6.954653937947484, 4), align=None)
    cut_extrude20_tool2 = split(extrude(cut_extrude20_sk2.sketch, amount=-CUT_EXTRUDE20_REACH, mode=Mode.PRIVATE), bisect_by=cut_extrude20_end, keep=Keep.BOTH, mode=Mode.PRIVATE)
    add(cut_extrude20_tool1.solids().sort_by(Axis((3.621321, 6.3, -1.333333), (0, -1, 0)))[0], mode=Mode.SUBTRACT)
    add(cut_extrude20_tool2.solids().sort_by(Axis((7.287987, 6.3, -1.333333), (0, -1, 0)))[0], mode=Mode.SUBTRACT)

    # Sketch31 → Boss-Extrude16 (add)
    with BuildSketch(Plane(origin=(0, 0, 6.999999999999999), x_dir=(-1, 0, 0), z_dir=(0, 0, -1))):
        with Locations((-77.00465393794748, -26.450000000000003)):
            Rectangle(SKETCH31_W, SKETCH31_H)
        Polygon((-85.00465393794748, -34.45), (-69.00465393794748, -34.449999999999996), (-69.00465393794748, -18.449999999999996), (-85.00465393794748, -18.449999999999996), align=None, mode=Mode.SUBTRACT)
    boss_extrude16 = extrude(amount=BOSS_EXTRUDE16_DEPTH)

    # Mirror3: Boss-Extrude16 across plane
    add(boss_extrude16.mirror(Plane(origin=(0.9546539379474833, 0, 0), x_dir=(0, 0, 1), z_dir=(1, 0, 0))))

    # Sketch32 → Boss-Extrude17 (add)
    with BuildSketch(Plane(origin=(0, 0, 0), x_dir=(-1, 0, 0), z_dir=(0, 0, -1))):
        with Locations((-80.9546539379475, 0)):
            Circle(SKETCH32_R)
        with Locations((-80.9546539379475, 0)):
            Circle(SKETCH32_R_2, mode=Mode.SUBTRACT)
    boss_extrude17 = extrude(amount=-BOSS_EXTRUDE17_DEPTH)

    # Mirror4: Boss-Extrude17 across plane
    add(boss_extrude17.mirror(Plane(origin=(0.9546539379474833, 0, 0), x_dir=(0, 0, 1), z_dir=(1, 0, 0))))

    # Sketch33 → Boss-Extrude18 (add)
    with BuildSketch(Plane(origin=(-3.045346062052517, 0, 0), x_dir=(0, 0, -1), z_dir=(1, 0, 0)).offset(BOSS_EXTRUDE18_START)):
        with Locations(Location((15.000000000000002, -9.69999999999999, 0), (0, 0, 180))):
            Circle(SKETCH33_R)
        with Locations((15.000000000000002, -9.69999999999999)):
            Circle(SKETCH33_R_2, mode=Mode.SUBTRACT)
    extrude(amount=-BOSS_EXTRUDE18_DEPTH)

    # Sketch34 → Boss-Extrude19 (add)
    with BuildSketch(Plane.ZY.offset(-4.954653937947484)):
        with Locations((-15.000000000000002, -9.69999999999999)):
            Circle(SKETCH34_R)
        with Locations(Location((-15.000000000000002, -9.69999999999999, 0), (0, 0, 180))):
            Circle(SKETCH34_R_2, mode=Mode.SUBTRACT)
    extrude(amount=BOSS_EXTRUDE19_DEPTH)


solid = part.part
